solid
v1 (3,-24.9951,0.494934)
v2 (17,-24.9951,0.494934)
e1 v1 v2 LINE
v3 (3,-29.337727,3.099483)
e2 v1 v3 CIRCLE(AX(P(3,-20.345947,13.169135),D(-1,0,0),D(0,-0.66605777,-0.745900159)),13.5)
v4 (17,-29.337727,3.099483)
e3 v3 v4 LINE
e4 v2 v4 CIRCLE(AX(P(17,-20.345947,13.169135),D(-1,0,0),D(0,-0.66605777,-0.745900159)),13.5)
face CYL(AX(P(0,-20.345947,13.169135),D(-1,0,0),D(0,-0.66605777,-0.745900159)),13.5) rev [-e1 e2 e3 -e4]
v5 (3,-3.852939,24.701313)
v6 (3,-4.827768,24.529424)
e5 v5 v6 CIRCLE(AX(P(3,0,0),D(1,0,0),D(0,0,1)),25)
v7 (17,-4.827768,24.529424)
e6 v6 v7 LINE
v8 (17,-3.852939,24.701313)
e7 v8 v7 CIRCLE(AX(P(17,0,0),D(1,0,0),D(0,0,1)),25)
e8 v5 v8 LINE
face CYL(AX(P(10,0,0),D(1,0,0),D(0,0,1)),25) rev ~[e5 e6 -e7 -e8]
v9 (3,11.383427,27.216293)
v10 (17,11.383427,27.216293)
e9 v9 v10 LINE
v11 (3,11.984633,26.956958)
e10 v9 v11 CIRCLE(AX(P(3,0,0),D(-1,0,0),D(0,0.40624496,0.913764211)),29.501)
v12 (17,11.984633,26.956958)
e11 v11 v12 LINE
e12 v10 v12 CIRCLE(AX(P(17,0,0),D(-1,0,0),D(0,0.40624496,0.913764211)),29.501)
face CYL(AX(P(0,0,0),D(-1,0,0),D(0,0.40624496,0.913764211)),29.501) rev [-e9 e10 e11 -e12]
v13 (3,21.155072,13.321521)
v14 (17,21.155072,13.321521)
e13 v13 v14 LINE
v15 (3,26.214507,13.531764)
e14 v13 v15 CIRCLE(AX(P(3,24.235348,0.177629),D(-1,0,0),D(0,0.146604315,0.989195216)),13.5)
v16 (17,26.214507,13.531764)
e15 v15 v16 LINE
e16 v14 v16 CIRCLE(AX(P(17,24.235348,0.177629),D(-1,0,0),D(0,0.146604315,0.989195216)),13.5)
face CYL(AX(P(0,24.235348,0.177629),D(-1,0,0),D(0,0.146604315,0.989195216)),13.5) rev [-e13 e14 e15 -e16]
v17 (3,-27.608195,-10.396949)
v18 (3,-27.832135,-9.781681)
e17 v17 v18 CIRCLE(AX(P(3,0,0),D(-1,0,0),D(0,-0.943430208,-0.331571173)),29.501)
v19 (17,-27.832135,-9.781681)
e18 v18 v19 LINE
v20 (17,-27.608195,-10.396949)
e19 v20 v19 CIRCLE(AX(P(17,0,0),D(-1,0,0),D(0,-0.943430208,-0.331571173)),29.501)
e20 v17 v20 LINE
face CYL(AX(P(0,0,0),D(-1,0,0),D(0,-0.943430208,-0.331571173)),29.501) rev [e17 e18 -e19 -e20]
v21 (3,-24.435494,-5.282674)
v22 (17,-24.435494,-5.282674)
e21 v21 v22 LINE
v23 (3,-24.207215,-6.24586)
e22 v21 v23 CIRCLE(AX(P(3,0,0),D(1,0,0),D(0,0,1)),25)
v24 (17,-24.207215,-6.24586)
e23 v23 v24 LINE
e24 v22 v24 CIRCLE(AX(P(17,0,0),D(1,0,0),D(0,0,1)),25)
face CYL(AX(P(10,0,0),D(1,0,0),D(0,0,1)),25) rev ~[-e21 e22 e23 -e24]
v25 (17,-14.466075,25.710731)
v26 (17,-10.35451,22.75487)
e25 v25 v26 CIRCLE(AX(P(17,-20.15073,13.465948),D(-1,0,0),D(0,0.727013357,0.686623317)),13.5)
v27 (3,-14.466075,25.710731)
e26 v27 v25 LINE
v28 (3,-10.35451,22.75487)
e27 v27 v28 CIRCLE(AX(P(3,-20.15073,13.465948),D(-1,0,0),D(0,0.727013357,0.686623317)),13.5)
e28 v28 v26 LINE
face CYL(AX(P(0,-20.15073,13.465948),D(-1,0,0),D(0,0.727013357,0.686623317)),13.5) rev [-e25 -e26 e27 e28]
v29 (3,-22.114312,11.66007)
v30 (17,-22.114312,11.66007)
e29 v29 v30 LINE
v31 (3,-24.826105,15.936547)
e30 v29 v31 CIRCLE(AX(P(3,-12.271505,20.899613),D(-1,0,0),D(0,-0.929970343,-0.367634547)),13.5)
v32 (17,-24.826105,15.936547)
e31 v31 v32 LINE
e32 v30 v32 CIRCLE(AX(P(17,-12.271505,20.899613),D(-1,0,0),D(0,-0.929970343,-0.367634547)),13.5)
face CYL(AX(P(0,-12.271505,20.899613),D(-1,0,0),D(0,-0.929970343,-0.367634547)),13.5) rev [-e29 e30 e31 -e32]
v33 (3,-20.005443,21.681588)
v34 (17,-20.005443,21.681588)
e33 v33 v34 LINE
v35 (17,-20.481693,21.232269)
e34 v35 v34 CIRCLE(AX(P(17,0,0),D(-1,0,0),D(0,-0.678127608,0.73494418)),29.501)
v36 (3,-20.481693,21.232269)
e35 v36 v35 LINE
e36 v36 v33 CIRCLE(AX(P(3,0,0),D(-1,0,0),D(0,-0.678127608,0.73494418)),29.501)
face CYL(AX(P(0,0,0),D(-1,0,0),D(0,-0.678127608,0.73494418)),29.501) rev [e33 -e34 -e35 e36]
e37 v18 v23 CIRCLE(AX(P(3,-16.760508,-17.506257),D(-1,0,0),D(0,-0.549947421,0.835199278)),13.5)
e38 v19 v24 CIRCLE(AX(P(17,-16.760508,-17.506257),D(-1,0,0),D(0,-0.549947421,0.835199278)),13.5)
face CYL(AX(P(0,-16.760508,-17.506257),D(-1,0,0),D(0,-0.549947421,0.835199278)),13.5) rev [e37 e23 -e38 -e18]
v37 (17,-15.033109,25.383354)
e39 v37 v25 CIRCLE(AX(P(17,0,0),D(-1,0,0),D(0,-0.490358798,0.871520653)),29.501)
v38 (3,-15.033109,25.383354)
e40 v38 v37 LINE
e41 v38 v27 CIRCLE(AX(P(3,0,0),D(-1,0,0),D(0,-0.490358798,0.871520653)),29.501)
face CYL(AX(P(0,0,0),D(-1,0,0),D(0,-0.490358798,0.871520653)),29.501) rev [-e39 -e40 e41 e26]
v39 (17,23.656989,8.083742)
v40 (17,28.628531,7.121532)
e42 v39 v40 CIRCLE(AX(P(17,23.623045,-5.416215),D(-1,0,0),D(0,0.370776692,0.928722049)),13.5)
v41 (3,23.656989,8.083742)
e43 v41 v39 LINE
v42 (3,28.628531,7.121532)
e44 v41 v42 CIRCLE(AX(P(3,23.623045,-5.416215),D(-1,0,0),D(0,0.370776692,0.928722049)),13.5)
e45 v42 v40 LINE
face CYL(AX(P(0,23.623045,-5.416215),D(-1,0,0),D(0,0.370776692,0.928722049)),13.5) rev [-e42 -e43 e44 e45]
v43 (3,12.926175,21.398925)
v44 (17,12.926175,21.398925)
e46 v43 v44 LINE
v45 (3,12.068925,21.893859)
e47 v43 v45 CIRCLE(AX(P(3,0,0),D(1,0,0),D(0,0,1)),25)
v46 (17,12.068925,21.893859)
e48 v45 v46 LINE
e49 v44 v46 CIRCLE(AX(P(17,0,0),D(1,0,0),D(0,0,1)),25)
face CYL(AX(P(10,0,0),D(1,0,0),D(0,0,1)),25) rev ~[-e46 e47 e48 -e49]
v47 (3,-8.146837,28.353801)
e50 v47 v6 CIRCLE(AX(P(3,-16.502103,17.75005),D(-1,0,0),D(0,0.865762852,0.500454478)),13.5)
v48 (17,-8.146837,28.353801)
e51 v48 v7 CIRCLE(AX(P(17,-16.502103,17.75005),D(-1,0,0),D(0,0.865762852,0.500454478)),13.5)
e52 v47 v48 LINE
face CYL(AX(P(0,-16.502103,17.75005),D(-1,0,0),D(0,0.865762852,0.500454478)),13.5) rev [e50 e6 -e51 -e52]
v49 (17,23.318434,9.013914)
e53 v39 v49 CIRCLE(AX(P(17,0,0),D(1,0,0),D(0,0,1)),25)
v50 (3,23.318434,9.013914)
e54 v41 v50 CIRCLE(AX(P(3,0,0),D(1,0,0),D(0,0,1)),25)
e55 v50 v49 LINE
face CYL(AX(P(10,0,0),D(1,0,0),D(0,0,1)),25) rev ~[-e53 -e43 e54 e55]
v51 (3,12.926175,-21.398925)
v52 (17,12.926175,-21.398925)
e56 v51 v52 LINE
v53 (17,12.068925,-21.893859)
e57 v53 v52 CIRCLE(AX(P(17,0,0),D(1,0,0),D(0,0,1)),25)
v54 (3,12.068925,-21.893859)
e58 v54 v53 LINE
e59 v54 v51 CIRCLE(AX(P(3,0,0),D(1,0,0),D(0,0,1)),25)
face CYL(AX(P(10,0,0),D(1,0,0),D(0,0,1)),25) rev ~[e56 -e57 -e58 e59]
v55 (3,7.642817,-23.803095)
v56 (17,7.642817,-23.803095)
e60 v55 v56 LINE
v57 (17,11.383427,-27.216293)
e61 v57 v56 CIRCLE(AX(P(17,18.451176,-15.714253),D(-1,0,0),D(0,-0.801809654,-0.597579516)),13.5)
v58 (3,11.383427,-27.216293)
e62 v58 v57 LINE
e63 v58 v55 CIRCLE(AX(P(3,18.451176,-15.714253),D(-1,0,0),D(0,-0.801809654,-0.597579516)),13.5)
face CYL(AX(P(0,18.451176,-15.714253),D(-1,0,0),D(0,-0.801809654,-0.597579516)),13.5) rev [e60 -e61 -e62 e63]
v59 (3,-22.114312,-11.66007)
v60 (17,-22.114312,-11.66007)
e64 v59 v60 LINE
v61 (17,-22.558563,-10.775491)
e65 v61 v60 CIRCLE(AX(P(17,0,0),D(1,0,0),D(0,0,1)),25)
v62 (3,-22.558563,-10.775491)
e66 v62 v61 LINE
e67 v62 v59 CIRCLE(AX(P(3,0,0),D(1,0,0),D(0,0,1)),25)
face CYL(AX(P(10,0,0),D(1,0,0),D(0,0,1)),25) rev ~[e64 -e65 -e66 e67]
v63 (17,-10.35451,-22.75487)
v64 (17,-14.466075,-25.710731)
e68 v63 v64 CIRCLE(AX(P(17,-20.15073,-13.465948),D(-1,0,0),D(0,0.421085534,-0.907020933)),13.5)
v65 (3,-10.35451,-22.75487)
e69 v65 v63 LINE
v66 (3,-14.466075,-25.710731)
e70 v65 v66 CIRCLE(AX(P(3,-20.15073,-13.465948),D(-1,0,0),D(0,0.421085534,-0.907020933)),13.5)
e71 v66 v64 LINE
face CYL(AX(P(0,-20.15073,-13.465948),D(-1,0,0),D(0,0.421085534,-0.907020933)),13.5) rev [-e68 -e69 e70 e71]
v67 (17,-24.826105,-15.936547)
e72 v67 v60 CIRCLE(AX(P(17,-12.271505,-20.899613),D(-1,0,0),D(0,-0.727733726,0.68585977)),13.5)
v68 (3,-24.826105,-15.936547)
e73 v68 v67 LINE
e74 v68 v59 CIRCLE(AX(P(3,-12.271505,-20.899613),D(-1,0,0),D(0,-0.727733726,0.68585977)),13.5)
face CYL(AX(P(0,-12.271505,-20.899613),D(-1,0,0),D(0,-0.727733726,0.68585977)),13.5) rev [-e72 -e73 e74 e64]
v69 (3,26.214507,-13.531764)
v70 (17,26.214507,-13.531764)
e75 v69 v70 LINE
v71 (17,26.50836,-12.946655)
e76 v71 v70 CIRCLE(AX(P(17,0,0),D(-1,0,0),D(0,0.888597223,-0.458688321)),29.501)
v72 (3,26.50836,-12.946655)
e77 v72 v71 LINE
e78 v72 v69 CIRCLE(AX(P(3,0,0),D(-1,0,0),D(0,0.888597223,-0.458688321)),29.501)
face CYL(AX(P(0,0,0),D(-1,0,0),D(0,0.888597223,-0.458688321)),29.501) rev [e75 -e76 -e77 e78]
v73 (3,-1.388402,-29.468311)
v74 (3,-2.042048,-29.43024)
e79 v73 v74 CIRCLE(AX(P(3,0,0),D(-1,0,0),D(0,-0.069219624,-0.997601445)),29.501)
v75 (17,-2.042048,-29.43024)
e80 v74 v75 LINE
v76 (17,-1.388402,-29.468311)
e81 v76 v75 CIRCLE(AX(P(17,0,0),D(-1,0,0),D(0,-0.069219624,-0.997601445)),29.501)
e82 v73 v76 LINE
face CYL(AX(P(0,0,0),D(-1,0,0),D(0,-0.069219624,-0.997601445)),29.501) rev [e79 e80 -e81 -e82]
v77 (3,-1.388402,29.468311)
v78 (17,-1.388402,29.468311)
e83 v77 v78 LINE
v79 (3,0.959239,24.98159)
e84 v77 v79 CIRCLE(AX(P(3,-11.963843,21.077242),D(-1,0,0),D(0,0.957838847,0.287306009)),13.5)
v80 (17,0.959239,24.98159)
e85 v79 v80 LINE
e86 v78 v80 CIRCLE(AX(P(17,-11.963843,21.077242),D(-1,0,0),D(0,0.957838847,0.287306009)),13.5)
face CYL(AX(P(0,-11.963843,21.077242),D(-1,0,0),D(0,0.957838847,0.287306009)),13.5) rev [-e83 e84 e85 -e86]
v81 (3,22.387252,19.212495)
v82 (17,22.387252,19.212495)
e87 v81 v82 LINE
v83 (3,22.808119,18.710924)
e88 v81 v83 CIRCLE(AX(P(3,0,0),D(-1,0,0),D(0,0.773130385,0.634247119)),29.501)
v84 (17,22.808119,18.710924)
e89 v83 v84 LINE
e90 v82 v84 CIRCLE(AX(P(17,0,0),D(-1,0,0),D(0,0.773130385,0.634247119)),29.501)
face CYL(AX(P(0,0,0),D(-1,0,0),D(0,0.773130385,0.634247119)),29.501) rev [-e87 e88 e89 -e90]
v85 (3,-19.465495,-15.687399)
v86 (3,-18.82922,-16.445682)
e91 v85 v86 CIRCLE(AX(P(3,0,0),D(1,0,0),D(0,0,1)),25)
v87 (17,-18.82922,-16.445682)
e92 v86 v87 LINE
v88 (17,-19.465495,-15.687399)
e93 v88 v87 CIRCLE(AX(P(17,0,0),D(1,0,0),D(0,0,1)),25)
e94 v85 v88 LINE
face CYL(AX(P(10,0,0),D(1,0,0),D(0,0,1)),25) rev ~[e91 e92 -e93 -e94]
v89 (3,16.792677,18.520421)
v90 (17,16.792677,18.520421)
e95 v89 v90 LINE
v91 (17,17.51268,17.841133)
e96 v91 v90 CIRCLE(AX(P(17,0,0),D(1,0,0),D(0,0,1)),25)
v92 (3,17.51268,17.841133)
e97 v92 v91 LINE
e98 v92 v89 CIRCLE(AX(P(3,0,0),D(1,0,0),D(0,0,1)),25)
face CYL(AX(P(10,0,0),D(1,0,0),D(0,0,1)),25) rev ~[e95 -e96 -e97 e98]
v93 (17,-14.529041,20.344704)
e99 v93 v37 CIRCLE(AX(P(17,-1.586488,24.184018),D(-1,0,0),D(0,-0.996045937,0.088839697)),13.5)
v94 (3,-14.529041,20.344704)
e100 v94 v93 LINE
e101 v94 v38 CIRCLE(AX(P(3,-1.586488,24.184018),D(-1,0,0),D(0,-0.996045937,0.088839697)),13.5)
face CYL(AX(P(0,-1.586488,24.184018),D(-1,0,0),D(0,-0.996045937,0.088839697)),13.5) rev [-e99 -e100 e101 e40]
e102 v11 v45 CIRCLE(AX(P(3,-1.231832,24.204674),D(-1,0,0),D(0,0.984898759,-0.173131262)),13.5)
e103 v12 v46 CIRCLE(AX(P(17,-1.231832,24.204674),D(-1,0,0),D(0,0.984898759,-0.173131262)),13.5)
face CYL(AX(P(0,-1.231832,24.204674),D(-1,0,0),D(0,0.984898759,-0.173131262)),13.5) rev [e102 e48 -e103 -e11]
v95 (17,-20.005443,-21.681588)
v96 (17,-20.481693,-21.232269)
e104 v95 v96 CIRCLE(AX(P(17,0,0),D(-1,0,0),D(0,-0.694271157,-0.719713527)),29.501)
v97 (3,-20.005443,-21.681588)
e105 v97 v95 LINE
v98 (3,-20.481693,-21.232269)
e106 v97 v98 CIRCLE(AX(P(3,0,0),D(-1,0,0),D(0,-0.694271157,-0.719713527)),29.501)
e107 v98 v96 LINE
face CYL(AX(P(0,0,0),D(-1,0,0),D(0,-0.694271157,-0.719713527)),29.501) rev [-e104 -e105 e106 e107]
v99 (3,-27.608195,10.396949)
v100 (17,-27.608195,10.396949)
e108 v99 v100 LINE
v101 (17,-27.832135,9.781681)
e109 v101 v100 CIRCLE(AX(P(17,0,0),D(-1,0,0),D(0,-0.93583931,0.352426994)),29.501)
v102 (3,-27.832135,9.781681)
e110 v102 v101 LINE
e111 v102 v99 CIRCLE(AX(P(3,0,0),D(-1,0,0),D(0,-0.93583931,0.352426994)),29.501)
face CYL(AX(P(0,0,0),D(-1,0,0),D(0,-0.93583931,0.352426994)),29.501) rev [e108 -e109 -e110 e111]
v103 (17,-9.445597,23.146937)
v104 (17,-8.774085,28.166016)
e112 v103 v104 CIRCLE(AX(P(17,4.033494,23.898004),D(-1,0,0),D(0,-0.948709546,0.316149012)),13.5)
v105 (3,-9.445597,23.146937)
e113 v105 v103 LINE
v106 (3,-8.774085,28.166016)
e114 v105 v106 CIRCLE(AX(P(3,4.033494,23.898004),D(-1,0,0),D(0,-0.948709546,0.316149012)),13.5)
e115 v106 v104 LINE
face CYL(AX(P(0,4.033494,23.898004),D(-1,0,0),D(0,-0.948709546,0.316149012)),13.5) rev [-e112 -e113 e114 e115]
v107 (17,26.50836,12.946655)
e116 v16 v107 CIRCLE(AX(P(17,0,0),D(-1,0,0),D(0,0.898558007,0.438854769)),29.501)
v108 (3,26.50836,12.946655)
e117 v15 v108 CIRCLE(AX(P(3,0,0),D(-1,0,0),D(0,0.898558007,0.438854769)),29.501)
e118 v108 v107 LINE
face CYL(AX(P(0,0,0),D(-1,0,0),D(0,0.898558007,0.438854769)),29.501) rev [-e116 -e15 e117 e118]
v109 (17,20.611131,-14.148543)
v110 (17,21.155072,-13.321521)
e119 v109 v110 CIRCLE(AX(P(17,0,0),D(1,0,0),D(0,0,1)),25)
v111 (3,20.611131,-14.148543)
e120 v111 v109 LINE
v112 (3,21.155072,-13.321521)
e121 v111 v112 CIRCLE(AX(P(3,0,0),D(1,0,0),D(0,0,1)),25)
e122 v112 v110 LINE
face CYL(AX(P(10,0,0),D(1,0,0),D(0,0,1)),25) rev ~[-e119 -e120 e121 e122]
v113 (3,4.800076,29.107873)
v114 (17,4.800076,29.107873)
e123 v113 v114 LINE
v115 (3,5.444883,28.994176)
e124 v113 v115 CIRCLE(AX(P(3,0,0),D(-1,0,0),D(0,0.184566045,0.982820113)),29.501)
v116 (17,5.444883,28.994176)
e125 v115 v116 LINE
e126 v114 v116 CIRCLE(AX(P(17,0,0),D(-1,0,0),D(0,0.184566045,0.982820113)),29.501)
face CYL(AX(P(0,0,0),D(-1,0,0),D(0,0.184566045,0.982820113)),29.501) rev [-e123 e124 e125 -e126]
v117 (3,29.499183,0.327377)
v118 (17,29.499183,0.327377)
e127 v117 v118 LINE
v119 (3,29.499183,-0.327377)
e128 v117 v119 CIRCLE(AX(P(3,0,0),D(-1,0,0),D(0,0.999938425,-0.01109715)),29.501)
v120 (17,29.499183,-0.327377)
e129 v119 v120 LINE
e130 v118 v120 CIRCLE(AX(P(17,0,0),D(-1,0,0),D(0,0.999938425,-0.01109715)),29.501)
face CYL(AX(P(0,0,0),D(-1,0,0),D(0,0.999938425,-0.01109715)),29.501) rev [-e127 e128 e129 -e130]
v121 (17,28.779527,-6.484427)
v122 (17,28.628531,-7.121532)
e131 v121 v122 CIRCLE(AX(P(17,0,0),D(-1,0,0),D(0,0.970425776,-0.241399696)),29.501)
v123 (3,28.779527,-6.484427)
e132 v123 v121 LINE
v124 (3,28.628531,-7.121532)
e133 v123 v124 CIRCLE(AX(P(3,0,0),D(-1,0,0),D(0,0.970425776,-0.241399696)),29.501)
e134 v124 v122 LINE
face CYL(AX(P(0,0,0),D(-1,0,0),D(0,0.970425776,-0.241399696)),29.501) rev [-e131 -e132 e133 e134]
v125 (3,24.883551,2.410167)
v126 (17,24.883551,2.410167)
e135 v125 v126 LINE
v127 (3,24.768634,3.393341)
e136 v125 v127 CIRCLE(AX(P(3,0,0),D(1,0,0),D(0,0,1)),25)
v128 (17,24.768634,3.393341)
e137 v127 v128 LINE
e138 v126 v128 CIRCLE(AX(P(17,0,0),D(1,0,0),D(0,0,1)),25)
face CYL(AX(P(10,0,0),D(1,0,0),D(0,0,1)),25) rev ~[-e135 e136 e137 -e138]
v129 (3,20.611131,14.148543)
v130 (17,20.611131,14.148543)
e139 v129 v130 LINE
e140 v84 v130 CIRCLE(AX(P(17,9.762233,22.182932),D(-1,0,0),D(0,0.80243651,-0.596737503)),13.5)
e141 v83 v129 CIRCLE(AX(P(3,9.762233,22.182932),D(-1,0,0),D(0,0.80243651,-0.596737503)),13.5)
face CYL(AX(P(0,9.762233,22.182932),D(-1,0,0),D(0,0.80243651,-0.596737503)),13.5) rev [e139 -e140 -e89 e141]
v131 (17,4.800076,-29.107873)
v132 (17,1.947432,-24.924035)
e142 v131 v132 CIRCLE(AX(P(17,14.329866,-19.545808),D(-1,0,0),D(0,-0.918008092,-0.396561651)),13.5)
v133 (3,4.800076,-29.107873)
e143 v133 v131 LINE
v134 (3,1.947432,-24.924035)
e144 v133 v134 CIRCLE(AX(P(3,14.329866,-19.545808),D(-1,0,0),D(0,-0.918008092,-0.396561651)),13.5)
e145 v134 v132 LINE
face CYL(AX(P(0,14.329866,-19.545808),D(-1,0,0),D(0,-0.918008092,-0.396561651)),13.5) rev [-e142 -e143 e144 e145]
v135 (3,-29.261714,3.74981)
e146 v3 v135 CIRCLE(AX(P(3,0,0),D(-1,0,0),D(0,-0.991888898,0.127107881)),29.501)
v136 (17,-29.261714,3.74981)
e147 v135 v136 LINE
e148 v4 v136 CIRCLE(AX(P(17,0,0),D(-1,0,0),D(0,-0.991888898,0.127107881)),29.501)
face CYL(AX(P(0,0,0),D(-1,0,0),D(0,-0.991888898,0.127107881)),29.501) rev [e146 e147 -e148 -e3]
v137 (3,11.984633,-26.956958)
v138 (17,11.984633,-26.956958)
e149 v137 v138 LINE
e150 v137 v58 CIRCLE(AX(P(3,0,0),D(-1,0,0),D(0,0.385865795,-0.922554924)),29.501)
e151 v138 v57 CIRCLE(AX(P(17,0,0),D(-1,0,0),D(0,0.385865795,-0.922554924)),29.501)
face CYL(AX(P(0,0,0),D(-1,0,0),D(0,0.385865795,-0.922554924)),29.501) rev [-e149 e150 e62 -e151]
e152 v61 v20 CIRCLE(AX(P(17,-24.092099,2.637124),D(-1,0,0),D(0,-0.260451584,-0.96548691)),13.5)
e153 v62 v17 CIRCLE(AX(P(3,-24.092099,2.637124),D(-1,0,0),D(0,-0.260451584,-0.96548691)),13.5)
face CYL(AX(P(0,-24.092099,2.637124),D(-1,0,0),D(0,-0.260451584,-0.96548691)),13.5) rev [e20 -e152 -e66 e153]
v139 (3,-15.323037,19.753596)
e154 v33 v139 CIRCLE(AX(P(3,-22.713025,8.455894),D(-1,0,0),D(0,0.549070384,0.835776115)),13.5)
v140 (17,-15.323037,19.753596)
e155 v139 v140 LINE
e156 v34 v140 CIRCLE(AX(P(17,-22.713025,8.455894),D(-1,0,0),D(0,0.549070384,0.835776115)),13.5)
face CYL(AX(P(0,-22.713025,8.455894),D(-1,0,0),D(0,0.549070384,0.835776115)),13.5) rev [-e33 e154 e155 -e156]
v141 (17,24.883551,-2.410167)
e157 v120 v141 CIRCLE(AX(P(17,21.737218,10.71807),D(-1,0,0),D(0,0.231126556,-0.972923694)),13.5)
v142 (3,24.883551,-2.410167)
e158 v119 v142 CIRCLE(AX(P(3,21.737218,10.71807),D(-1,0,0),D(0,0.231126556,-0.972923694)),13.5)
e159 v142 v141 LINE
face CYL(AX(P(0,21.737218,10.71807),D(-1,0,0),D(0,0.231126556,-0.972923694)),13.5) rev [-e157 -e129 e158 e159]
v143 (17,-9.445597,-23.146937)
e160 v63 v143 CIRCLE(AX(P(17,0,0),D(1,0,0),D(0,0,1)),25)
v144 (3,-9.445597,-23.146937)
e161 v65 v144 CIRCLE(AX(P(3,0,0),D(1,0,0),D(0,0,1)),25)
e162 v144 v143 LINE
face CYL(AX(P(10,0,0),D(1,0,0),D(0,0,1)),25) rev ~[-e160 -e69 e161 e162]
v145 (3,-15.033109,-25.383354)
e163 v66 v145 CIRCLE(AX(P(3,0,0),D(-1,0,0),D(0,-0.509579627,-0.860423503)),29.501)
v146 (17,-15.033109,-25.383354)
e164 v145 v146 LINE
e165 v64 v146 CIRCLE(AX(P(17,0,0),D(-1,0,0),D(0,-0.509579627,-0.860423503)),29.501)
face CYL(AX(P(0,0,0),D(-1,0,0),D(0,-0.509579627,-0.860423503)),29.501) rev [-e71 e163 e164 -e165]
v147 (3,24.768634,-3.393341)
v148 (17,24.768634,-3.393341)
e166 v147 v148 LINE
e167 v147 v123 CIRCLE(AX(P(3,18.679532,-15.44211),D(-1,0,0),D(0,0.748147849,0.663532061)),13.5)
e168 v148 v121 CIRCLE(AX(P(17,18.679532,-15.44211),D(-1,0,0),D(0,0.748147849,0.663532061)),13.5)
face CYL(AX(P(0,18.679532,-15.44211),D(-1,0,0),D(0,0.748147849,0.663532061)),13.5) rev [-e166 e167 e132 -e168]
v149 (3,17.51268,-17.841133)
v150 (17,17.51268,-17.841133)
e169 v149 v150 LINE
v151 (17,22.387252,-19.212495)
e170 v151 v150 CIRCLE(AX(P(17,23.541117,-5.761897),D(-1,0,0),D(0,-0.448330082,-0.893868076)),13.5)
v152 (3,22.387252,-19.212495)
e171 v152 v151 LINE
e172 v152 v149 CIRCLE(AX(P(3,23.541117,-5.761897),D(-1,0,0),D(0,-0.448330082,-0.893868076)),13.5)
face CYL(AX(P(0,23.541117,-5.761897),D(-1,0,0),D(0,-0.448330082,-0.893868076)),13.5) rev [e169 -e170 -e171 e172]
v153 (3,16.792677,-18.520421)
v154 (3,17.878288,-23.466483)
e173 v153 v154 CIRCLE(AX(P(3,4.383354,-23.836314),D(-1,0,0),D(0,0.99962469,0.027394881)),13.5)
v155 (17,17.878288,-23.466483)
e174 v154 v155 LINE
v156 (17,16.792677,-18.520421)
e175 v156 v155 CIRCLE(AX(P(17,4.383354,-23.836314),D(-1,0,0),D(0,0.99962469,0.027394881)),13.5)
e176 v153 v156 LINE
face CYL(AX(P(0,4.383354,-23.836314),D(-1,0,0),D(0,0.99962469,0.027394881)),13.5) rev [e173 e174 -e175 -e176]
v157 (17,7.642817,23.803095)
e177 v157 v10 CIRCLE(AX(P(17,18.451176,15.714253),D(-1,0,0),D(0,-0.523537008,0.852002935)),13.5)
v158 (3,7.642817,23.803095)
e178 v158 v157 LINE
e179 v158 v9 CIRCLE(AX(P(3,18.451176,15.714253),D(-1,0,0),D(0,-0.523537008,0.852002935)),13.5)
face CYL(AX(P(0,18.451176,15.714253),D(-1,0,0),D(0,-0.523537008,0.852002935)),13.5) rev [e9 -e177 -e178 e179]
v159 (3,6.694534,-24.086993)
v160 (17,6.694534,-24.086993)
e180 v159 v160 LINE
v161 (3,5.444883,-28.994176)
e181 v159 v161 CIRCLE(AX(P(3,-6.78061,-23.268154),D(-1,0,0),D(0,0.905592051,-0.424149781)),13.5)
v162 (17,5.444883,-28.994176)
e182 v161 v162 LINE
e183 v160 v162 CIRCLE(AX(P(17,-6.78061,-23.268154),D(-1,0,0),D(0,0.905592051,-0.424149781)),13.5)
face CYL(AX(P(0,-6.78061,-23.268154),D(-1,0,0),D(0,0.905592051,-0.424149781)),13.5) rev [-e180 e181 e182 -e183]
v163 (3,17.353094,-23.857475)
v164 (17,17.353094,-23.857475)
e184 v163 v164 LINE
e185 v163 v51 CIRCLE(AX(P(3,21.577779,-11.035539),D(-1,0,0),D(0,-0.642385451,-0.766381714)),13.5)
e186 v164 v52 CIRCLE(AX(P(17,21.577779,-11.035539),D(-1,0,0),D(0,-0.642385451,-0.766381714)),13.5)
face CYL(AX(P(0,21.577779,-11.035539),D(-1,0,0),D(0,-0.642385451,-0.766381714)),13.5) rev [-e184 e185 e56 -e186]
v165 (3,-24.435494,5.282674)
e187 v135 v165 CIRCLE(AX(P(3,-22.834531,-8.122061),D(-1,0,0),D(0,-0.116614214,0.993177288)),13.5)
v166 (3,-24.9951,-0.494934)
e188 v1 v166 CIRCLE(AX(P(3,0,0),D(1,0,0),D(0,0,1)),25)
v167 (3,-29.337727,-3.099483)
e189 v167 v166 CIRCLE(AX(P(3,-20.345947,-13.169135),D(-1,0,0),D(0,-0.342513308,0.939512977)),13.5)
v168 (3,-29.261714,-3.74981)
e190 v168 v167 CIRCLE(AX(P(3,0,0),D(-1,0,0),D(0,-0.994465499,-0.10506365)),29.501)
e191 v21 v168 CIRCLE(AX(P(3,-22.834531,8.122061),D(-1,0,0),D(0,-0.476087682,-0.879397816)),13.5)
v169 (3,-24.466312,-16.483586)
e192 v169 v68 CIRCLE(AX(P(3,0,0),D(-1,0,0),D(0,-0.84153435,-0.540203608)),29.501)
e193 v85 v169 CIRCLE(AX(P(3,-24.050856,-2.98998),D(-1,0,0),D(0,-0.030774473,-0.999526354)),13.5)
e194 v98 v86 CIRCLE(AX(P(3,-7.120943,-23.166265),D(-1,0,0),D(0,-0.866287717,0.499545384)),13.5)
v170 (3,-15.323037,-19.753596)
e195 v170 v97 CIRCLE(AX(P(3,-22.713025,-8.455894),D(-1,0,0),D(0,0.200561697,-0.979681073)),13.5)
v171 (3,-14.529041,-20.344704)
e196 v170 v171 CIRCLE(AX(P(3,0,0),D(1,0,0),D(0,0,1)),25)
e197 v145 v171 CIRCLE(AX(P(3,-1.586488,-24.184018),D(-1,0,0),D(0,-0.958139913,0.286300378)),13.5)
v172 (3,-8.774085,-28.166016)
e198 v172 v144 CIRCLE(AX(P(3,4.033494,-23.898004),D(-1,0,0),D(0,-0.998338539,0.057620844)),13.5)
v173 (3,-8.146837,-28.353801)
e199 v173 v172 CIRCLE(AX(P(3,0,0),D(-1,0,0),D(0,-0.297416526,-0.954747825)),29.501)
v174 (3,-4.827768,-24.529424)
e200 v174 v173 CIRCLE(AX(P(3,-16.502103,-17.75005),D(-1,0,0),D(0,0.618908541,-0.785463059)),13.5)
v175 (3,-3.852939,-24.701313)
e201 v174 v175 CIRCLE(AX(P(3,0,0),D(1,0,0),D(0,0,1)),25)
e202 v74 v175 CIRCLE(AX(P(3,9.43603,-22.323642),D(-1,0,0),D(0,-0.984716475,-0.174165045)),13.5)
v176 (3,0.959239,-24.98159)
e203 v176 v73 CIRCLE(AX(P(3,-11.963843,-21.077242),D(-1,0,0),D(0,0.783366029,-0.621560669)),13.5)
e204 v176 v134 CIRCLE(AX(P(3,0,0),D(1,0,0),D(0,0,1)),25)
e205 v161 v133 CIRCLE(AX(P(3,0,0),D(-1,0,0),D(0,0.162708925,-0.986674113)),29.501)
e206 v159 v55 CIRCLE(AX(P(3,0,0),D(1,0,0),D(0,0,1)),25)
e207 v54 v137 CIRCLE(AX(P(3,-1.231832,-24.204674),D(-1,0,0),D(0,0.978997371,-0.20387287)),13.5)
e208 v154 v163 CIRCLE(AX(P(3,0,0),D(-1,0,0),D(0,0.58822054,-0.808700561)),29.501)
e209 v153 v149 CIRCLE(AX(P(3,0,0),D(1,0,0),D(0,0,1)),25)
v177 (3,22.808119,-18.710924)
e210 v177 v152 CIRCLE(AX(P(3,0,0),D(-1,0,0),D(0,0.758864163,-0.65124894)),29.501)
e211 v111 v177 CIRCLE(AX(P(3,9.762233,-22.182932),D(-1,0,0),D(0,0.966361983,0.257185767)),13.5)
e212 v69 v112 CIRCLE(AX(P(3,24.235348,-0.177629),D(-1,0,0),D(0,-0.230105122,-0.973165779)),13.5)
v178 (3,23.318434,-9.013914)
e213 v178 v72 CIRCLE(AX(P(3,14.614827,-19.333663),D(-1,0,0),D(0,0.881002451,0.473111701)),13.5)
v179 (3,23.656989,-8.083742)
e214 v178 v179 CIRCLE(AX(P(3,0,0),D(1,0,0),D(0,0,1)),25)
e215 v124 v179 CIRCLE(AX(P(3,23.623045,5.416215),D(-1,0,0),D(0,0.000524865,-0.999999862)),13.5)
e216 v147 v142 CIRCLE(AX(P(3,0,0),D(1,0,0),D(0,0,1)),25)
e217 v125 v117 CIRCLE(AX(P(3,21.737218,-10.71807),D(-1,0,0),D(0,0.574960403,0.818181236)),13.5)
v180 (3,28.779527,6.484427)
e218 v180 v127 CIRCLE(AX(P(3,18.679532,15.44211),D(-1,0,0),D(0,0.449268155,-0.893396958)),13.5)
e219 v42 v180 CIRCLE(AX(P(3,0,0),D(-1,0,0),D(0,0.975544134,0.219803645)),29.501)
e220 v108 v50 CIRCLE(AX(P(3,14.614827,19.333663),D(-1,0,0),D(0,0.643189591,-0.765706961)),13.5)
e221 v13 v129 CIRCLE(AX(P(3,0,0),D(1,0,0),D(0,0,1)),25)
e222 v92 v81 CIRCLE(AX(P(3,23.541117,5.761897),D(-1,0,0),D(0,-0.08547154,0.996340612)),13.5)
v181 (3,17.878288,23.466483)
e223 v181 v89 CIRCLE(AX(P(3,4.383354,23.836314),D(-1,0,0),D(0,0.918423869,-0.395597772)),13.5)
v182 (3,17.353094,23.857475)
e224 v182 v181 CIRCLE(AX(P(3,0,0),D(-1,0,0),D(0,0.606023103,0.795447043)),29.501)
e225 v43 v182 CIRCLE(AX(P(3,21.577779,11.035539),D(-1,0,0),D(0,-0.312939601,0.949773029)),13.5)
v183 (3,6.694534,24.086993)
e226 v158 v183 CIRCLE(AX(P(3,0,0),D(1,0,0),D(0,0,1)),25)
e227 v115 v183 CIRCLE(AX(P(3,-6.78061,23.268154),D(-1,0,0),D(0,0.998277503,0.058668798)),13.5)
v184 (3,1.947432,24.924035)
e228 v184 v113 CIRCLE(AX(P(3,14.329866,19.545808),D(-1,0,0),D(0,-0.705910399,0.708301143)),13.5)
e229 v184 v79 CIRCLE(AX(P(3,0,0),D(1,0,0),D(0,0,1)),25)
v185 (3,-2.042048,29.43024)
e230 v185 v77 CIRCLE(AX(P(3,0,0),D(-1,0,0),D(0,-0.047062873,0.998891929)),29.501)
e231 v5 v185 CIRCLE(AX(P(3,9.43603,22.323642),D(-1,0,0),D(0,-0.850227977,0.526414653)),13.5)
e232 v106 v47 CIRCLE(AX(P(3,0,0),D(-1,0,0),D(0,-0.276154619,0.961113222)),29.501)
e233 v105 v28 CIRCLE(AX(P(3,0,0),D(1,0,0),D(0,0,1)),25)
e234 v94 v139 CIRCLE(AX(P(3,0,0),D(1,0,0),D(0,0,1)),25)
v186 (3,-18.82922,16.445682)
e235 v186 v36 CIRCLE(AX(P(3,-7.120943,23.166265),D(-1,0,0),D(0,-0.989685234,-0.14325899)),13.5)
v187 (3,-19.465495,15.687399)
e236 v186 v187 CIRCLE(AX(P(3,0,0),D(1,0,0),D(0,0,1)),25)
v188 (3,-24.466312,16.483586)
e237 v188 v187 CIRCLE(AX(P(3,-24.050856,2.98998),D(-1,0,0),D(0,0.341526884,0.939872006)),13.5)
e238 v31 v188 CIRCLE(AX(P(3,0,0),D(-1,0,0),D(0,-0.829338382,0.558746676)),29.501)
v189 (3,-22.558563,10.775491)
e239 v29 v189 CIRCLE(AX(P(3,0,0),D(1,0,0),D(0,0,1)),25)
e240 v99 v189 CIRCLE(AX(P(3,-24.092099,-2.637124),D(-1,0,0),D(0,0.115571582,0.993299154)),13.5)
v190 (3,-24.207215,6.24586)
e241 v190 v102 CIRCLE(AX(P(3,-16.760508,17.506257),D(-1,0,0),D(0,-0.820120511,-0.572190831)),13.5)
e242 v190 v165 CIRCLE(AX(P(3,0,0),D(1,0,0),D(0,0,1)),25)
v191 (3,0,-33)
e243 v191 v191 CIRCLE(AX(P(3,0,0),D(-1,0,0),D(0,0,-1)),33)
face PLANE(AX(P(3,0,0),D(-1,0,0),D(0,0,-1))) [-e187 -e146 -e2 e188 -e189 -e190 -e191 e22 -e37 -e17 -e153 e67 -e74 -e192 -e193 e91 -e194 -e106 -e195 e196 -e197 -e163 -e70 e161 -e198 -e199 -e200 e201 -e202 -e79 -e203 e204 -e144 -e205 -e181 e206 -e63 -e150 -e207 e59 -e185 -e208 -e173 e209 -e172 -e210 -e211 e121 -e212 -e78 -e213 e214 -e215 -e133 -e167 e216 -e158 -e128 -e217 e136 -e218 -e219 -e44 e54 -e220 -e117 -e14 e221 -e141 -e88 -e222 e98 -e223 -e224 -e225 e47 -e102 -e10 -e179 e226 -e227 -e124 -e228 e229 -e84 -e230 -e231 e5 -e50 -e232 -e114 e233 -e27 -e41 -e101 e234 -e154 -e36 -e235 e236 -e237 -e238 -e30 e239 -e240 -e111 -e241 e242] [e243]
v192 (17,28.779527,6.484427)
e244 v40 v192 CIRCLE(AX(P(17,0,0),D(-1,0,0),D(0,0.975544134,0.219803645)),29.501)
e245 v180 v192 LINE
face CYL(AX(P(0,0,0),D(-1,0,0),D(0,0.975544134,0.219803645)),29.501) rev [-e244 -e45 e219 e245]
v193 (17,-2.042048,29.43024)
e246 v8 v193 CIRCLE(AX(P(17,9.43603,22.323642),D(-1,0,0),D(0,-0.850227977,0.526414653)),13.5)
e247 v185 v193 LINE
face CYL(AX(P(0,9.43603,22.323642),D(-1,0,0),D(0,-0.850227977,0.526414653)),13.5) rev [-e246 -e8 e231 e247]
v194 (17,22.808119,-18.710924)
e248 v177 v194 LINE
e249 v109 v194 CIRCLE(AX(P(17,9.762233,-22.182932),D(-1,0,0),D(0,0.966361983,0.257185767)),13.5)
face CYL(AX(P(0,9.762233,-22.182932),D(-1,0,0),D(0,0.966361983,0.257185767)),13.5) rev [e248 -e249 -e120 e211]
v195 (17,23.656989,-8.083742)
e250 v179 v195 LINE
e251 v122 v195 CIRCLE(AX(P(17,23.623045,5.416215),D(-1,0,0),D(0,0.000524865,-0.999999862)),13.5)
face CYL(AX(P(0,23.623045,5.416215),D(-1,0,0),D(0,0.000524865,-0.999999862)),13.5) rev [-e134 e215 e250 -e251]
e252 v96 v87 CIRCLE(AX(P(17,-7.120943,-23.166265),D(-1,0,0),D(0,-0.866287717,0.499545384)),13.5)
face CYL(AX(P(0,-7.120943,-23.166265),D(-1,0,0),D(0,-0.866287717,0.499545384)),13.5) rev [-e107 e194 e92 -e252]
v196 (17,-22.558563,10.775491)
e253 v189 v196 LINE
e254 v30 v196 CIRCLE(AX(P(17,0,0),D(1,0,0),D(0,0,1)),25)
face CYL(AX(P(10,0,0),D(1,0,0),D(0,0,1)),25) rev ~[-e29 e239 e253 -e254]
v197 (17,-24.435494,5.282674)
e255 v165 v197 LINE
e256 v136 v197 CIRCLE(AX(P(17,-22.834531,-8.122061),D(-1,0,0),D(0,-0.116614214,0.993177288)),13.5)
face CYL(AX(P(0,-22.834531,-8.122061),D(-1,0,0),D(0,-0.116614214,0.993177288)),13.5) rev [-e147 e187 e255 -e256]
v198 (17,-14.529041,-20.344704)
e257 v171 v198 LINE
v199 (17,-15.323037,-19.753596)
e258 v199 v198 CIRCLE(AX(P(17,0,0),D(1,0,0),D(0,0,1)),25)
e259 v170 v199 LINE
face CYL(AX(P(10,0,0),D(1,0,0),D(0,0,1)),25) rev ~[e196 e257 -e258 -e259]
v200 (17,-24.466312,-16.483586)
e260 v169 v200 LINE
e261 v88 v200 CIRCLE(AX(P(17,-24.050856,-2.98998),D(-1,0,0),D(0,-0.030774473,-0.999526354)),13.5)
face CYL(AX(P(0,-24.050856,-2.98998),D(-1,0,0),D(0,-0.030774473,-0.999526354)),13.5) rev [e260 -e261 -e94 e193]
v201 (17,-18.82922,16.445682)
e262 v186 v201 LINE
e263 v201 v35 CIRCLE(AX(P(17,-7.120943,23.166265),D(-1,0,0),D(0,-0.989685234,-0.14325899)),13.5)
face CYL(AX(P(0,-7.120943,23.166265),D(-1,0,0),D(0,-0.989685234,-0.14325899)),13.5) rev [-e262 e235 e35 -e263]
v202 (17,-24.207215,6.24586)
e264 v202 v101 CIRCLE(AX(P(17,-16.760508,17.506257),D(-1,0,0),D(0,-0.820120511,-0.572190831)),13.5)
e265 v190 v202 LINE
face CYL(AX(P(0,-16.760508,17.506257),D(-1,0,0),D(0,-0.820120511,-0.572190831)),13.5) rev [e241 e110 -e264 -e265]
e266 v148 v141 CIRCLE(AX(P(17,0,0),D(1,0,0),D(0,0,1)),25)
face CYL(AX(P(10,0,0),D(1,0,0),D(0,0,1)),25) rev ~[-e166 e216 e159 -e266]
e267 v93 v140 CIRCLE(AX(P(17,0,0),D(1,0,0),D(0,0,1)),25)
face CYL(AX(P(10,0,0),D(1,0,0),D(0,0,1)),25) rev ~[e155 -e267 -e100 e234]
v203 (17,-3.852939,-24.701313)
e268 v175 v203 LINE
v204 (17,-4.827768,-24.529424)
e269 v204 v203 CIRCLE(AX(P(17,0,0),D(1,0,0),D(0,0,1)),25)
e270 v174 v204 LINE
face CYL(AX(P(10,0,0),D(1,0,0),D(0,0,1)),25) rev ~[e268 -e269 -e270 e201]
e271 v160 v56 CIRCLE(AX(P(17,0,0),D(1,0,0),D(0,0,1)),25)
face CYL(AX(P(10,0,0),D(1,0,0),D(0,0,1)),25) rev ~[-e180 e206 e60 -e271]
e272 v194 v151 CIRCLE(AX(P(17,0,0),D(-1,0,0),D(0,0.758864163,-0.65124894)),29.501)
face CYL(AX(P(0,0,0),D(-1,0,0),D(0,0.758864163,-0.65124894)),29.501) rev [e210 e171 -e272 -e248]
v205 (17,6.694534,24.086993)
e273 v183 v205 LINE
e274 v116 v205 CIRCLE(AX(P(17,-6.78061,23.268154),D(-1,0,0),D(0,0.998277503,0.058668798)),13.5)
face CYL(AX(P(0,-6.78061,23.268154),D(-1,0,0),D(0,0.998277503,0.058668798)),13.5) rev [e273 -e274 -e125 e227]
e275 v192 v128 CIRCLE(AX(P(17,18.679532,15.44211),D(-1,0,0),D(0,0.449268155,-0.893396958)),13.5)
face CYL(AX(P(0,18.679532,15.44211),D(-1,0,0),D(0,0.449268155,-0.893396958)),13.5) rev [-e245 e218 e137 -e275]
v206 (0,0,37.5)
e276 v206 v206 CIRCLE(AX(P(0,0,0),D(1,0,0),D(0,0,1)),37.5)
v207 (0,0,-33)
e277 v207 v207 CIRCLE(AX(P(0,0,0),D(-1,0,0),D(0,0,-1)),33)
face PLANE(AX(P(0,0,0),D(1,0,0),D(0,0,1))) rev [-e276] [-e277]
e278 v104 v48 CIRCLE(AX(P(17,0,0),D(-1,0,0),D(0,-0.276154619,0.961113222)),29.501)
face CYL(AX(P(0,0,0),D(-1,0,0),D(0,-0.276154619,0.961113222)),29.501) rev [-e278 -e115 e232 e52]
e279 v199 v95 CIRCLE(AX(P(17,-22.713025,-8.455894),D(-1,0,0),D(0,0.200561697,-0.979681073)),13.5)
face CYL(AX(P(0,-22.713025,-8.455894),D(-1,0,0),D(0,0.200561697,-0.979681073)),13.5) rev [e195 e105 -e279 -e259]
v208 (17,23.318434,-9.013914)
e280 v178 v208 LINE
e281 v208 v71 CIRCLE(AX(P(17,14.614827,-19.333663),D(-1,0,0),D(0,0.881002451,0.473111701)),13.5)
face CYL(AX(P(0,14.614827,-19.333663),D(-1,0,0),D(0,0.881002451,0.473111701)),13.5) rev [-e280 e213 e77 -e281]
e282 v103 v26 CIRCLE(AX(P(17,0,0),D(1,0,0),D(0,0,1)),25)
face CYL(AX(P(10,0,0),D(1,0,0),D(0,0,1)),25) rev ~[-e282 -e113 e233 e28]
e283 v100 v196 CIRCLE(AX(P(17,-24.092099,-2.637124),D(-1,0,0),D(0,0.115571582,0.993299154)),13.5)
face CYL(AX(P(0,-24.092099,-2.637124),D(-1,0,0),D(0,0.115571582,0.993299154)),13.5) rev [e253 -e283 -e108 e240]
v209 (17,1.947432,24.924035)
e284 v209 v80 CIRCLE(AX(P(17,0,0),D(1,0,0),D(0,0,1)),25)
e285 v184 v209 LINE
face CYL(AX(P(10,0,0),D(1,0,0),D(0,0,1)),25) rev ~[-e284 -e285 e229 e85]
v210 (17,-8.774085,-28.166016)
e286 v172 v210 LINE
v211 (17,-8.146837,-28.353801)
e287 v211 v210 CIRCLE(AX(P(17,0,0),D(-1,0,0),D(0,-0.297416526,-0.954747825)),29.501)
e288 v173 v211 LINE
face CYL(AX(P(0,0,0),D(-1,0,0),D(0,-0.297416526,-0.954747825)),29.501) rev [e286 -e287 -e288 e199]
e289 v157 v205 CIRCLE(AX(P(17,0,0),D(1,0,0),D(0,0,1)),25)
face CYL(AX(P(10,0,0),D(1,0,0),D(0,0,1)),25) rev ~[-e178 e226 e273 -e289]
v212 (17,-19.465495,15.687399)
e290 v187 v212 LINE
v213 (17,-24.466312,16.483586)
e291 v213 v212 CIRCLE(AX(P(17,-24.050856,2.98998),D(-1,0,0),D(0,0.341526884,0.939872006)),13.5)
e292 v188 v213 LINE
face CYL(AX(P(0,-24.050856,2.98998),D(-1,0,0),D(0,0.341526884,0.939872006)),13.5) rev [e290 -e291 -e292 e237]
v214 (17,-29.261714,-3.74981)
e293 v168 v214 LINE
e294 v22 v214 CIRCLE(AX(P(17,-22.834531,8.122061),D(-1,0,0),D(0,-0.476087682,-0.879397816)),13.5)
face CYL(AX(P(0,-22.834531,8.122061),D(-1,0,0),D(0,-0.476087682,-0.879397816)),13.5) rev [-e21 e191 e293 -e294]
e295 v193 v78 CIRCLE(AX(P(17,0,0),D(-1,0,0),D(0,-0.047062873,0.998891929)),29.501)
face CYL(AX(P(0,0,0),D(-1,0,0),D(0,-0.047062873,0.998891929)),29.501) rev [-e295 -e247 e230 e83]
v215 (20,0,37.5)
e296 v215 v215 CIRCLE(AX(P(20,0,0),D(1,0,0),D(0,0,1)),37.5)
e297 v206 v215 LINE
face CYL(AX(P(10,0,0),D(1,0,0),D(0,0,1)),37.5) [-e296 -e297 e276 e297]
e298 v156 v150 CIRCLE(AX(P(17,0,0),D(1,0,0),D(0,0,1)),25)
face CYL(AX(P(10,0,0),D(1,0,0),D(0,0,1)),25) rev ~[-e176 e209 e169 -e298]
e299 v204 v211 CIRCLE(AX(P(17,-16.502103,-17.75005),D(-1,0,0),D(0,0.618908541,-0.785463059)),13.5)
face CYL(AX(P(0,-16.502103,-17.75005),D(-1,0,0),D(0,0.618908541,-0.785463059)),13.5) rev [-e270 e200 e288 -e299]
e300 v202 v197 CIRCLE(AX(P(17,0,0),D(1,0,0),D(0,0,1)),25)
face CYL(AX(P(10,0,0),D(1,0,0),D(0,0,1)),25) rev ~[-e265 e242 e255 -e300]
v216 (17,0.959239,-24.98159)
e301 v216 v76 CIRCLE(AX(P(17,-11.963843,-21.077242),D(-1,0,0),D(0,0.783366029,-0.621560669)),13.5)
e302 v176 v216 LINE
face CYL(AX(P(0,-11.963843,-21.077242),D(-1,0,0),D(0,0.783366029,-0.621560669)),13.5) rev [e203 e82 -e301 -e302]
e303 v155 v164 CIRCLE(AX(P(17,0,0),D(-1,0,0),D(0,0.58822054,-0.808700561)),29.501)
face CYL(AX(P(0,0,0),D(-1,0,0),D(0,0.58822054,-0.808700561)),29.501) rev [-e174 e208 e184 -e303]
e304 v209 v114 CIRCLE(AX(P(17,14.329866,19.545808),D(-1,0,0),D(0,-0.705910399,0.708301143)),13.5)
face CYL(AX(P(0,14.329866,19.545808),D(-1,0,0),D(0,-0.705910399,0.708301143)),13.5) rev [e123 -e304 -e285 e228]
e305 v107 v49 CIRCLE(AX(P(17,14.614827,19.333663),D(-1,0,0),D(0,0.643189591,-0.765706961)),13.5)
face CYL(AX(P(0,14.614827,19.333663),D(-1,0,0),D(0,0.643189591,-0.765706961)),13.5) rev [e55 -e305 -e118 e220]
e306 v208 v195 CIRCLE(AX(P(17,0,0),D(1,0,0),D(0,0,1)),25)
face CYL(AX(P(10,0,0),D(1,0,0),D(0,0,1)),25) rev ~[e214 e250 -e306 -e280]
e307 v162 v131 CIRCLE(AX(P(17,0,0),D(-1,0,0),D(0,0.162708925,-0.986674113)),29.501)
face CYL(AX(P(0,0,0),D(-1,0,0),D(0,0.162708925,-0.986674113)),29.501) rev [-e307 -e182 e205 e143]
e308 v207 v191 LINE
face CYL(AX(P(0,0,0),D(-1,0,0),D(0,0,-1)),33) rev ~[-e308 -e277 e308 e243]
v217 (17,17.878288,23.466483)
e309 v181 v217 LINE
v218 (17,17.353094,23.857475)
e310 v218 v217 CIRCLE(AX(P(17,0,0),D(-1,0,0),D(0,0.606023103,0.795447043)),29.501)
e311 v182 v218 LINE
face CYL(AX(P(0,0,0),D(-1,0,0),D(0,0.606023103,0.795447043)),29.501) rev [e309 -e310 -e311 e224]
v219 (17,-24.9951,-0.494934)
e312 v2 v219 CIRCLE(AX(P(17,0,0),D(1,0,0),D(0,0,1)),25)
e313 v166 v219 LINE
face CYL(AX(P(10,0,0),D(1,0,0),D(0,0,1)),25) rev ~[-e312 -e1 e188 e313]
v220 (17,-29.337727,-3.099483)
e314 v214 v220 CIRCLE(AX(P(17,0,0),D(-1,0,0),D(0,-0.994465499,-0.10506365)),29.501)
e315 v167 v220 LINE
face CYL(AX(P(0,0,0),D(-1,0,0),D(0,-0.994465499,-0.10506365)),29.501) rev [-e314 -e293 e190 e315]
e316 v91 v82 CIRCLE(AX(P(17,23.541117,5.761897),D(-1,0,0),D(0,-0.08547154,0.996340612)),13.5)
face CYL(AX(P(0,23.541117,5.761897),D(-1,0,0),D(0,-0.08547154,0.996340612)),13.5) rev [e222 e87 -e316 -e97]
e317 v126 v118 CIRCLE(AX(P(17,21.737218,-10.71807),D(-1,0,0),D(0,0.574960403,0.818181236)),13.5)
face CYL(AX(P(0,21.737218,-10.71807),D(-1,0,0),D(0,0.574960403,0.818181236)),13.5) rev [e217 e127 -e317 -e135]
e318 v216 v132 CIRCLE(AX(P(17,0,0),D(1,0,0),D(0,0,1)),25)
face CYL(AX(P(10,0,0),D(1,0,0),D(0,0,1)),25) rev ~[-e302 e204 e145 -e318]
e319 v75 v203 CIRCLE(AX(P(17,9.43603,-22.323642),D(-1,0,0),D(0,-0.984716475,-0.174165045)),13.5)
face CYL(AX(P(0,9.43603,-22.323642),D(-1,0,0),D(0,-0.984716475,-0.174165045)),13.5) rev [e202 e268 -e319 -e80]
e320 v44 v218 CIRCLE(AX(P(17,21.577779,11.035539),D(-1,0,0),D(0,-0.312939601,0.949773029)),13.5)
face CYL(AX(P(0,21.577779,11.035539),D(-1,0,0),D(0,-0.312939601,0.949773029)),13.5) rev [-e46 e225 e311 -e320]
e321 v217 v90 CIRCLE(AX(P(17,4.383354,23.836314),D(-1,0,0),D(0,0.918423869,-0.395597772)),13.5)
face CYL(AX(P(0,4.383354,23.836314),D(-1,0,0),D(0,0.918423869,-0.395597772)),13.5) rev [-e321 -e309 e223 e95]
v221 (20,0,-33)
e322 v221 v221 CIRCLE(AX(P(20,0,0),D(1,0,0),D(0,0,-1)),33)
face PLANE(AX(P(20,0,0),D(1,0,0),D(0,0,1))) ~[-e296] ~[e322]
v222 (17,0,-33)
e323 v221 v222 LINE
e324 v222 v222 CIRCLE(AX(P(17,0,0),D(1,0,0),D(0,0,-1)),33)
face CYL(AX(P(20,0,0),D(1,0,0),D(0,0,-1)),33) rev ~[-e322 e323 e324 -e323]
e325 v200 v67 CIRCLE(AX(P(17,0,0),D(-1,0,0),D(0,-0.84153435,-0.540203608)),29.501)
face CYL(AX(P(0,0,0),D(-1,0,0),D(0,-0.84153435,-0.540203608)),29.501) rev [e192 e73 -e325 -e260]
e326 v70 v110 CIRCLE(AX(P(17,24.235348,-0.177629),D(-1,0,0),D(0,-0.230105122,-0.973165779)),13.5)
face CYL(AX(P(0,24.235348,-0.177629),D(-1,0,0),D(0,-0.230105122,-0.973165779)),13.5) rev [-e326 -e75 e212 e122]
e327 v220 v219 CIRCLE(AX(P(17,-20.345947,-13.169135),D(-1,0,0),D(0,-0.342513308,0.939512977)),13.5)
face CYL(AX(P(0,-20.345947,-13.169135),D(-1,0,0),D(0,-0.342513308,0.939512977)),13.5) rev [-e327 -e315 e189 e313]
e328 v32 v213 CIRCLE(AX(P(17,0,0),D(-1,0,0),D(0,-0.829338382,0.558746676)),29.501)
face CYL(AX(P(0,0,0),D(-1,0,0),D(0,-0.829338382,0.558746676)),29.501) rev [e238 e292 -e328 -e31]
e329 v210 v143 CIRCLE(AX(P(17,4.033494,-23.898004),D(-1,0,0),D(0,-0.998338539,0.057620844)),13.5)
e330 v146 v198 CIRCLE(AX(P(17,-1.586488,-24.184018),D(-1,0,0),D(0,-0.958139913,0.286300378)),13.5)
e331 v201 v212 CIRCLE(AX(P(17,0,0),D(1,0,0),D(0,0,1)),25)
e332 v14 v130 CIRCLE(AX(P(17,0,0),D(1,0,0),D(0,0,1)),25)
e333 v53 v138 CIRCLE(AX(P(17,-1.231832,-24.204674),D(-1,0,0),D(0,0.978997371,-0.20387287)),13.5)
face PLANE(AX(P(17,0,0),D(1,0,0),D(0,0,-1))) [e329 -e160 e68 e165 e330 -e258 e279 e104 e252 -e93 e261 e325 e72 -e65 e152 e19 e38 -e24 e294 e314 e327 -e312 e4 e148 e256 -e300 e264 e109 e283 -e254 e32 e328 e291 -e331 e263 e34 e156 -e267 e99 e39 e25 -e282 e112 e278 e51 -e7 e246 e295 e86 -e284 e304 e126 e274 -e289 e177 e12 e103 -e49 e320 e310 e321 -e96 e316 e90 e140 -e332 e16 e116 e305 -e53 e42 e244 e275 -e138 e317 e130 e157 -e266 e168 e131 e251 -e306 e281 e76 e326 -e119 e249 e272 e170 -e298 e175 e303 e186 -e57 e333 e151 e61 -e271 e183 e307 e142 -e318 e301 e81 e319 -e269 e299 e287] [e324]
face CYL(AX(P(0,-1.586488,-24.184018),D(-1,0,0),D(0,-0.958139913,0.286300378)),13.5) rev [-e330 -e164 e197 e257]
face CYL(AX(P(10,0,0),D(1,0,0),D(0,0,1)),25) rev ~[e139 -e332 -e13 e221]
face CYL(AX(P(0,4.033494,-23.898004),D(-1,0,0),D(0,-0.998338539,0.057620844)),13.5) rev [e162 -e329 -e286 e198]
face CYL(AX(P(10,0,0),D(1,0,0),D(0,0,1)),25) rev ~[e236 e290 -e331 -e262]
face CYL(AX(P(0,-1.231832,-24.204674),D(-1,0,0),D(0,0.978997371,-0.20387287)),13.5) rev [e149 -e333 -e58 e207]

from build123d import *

# Parameters (mm, degrees)
BASPROSKE_W        = 20
BASPROSKE_H        = 12.5
TOOTHCUT_DEPTH     = 57.678920244
TEETHCUTS_COUNT    = 27
TEETHCUTS_ANGLE    = 346.666666667
SKETCH1_R          = 33
CUT_EXTRUDE1_DEPTH = 3
CUT_EXTRUDE2_START = -3
SKETCH2_R          = 33
CUT_EXTRUDE2_DEPTH = 3


with BuildPart() as part:
    # BasProSke → Base-Revolve (revolve)
    with BuildSketch(Plane(origin=(0, 0, 0), x_dir=(1, 0, 0), z_dir=(0, 1, 0))):
        with Locations((10, 31.25)):
            Rectangle(BASPROSKE_W, BASPROSKE_H)
    revolve(axis=Axis((-10, 0, 0), (1, 0, 0)))

    # TooCutSke → ToothCut (cut, through all)
    with BuildSketch(Plane(origin=(0, 0, 0), x_dir=(0, 0, -1), z_dir=(1, 0, 0))):
        with BuildLine():
            ThreePointArc((2.416400206, 24.85742656), (1.592639823, 27.277654117), (0.32737703, 29.499183468))
            ThreePointArc((0.32737703, 29.499183468), (0, 29.501), (-0.32737703, 29.499183468))
            ThreePointArc((-0.32737703, 29.499183468), (-1.592639823, 27.277654117), (-2.416400206, 24.85742656))
            ThreePointArc((-2.416400206, 24.85742656), (0, 24.9746), (2.416400206, 24.85742656))
        make_face()
    toothcut = extrude(amount=TOOTHCUT_DEPTH, mode=Mode.SUBTRACT)

    # TeethCuts: ToothCut ×27 about axis
    teethcuts_axis = Axis((-10, 0, 0), (1, 0, 0))
    for i in range(1, TEETHCUTS_COUNT):
        add(toothcut.rotate(teethcuts_axis, i * TEETHCUTS_ANGLE / (TEETHCUTS_COUNT - 1)), mode=Mode.SUBTRACT)

    # Sketch1 → Cut-Extrude1 (cut)
    with BuildSketch(Plane(origin=(20, 0, 0), x_dir=(0, 0, -1), z_dir=(1, 0, 0))):
        Circle(SKETCH1_R)
    extrude(amount=-CUT_EXTRUDE1_DEPTH, mode=Mode.SUBTRACT)

    # Sketch2 → Cut-Extrude2 (cut)
    with BuildSketch(Plane.ZY.offset(CUT_EXTRUDE2_START)):
        Circle(SKETCH2_R)
    extrude(amount=CUT_EXTRUDE2_DEPTH, mode=Mode.SUBTRACT)


solid = part.part
